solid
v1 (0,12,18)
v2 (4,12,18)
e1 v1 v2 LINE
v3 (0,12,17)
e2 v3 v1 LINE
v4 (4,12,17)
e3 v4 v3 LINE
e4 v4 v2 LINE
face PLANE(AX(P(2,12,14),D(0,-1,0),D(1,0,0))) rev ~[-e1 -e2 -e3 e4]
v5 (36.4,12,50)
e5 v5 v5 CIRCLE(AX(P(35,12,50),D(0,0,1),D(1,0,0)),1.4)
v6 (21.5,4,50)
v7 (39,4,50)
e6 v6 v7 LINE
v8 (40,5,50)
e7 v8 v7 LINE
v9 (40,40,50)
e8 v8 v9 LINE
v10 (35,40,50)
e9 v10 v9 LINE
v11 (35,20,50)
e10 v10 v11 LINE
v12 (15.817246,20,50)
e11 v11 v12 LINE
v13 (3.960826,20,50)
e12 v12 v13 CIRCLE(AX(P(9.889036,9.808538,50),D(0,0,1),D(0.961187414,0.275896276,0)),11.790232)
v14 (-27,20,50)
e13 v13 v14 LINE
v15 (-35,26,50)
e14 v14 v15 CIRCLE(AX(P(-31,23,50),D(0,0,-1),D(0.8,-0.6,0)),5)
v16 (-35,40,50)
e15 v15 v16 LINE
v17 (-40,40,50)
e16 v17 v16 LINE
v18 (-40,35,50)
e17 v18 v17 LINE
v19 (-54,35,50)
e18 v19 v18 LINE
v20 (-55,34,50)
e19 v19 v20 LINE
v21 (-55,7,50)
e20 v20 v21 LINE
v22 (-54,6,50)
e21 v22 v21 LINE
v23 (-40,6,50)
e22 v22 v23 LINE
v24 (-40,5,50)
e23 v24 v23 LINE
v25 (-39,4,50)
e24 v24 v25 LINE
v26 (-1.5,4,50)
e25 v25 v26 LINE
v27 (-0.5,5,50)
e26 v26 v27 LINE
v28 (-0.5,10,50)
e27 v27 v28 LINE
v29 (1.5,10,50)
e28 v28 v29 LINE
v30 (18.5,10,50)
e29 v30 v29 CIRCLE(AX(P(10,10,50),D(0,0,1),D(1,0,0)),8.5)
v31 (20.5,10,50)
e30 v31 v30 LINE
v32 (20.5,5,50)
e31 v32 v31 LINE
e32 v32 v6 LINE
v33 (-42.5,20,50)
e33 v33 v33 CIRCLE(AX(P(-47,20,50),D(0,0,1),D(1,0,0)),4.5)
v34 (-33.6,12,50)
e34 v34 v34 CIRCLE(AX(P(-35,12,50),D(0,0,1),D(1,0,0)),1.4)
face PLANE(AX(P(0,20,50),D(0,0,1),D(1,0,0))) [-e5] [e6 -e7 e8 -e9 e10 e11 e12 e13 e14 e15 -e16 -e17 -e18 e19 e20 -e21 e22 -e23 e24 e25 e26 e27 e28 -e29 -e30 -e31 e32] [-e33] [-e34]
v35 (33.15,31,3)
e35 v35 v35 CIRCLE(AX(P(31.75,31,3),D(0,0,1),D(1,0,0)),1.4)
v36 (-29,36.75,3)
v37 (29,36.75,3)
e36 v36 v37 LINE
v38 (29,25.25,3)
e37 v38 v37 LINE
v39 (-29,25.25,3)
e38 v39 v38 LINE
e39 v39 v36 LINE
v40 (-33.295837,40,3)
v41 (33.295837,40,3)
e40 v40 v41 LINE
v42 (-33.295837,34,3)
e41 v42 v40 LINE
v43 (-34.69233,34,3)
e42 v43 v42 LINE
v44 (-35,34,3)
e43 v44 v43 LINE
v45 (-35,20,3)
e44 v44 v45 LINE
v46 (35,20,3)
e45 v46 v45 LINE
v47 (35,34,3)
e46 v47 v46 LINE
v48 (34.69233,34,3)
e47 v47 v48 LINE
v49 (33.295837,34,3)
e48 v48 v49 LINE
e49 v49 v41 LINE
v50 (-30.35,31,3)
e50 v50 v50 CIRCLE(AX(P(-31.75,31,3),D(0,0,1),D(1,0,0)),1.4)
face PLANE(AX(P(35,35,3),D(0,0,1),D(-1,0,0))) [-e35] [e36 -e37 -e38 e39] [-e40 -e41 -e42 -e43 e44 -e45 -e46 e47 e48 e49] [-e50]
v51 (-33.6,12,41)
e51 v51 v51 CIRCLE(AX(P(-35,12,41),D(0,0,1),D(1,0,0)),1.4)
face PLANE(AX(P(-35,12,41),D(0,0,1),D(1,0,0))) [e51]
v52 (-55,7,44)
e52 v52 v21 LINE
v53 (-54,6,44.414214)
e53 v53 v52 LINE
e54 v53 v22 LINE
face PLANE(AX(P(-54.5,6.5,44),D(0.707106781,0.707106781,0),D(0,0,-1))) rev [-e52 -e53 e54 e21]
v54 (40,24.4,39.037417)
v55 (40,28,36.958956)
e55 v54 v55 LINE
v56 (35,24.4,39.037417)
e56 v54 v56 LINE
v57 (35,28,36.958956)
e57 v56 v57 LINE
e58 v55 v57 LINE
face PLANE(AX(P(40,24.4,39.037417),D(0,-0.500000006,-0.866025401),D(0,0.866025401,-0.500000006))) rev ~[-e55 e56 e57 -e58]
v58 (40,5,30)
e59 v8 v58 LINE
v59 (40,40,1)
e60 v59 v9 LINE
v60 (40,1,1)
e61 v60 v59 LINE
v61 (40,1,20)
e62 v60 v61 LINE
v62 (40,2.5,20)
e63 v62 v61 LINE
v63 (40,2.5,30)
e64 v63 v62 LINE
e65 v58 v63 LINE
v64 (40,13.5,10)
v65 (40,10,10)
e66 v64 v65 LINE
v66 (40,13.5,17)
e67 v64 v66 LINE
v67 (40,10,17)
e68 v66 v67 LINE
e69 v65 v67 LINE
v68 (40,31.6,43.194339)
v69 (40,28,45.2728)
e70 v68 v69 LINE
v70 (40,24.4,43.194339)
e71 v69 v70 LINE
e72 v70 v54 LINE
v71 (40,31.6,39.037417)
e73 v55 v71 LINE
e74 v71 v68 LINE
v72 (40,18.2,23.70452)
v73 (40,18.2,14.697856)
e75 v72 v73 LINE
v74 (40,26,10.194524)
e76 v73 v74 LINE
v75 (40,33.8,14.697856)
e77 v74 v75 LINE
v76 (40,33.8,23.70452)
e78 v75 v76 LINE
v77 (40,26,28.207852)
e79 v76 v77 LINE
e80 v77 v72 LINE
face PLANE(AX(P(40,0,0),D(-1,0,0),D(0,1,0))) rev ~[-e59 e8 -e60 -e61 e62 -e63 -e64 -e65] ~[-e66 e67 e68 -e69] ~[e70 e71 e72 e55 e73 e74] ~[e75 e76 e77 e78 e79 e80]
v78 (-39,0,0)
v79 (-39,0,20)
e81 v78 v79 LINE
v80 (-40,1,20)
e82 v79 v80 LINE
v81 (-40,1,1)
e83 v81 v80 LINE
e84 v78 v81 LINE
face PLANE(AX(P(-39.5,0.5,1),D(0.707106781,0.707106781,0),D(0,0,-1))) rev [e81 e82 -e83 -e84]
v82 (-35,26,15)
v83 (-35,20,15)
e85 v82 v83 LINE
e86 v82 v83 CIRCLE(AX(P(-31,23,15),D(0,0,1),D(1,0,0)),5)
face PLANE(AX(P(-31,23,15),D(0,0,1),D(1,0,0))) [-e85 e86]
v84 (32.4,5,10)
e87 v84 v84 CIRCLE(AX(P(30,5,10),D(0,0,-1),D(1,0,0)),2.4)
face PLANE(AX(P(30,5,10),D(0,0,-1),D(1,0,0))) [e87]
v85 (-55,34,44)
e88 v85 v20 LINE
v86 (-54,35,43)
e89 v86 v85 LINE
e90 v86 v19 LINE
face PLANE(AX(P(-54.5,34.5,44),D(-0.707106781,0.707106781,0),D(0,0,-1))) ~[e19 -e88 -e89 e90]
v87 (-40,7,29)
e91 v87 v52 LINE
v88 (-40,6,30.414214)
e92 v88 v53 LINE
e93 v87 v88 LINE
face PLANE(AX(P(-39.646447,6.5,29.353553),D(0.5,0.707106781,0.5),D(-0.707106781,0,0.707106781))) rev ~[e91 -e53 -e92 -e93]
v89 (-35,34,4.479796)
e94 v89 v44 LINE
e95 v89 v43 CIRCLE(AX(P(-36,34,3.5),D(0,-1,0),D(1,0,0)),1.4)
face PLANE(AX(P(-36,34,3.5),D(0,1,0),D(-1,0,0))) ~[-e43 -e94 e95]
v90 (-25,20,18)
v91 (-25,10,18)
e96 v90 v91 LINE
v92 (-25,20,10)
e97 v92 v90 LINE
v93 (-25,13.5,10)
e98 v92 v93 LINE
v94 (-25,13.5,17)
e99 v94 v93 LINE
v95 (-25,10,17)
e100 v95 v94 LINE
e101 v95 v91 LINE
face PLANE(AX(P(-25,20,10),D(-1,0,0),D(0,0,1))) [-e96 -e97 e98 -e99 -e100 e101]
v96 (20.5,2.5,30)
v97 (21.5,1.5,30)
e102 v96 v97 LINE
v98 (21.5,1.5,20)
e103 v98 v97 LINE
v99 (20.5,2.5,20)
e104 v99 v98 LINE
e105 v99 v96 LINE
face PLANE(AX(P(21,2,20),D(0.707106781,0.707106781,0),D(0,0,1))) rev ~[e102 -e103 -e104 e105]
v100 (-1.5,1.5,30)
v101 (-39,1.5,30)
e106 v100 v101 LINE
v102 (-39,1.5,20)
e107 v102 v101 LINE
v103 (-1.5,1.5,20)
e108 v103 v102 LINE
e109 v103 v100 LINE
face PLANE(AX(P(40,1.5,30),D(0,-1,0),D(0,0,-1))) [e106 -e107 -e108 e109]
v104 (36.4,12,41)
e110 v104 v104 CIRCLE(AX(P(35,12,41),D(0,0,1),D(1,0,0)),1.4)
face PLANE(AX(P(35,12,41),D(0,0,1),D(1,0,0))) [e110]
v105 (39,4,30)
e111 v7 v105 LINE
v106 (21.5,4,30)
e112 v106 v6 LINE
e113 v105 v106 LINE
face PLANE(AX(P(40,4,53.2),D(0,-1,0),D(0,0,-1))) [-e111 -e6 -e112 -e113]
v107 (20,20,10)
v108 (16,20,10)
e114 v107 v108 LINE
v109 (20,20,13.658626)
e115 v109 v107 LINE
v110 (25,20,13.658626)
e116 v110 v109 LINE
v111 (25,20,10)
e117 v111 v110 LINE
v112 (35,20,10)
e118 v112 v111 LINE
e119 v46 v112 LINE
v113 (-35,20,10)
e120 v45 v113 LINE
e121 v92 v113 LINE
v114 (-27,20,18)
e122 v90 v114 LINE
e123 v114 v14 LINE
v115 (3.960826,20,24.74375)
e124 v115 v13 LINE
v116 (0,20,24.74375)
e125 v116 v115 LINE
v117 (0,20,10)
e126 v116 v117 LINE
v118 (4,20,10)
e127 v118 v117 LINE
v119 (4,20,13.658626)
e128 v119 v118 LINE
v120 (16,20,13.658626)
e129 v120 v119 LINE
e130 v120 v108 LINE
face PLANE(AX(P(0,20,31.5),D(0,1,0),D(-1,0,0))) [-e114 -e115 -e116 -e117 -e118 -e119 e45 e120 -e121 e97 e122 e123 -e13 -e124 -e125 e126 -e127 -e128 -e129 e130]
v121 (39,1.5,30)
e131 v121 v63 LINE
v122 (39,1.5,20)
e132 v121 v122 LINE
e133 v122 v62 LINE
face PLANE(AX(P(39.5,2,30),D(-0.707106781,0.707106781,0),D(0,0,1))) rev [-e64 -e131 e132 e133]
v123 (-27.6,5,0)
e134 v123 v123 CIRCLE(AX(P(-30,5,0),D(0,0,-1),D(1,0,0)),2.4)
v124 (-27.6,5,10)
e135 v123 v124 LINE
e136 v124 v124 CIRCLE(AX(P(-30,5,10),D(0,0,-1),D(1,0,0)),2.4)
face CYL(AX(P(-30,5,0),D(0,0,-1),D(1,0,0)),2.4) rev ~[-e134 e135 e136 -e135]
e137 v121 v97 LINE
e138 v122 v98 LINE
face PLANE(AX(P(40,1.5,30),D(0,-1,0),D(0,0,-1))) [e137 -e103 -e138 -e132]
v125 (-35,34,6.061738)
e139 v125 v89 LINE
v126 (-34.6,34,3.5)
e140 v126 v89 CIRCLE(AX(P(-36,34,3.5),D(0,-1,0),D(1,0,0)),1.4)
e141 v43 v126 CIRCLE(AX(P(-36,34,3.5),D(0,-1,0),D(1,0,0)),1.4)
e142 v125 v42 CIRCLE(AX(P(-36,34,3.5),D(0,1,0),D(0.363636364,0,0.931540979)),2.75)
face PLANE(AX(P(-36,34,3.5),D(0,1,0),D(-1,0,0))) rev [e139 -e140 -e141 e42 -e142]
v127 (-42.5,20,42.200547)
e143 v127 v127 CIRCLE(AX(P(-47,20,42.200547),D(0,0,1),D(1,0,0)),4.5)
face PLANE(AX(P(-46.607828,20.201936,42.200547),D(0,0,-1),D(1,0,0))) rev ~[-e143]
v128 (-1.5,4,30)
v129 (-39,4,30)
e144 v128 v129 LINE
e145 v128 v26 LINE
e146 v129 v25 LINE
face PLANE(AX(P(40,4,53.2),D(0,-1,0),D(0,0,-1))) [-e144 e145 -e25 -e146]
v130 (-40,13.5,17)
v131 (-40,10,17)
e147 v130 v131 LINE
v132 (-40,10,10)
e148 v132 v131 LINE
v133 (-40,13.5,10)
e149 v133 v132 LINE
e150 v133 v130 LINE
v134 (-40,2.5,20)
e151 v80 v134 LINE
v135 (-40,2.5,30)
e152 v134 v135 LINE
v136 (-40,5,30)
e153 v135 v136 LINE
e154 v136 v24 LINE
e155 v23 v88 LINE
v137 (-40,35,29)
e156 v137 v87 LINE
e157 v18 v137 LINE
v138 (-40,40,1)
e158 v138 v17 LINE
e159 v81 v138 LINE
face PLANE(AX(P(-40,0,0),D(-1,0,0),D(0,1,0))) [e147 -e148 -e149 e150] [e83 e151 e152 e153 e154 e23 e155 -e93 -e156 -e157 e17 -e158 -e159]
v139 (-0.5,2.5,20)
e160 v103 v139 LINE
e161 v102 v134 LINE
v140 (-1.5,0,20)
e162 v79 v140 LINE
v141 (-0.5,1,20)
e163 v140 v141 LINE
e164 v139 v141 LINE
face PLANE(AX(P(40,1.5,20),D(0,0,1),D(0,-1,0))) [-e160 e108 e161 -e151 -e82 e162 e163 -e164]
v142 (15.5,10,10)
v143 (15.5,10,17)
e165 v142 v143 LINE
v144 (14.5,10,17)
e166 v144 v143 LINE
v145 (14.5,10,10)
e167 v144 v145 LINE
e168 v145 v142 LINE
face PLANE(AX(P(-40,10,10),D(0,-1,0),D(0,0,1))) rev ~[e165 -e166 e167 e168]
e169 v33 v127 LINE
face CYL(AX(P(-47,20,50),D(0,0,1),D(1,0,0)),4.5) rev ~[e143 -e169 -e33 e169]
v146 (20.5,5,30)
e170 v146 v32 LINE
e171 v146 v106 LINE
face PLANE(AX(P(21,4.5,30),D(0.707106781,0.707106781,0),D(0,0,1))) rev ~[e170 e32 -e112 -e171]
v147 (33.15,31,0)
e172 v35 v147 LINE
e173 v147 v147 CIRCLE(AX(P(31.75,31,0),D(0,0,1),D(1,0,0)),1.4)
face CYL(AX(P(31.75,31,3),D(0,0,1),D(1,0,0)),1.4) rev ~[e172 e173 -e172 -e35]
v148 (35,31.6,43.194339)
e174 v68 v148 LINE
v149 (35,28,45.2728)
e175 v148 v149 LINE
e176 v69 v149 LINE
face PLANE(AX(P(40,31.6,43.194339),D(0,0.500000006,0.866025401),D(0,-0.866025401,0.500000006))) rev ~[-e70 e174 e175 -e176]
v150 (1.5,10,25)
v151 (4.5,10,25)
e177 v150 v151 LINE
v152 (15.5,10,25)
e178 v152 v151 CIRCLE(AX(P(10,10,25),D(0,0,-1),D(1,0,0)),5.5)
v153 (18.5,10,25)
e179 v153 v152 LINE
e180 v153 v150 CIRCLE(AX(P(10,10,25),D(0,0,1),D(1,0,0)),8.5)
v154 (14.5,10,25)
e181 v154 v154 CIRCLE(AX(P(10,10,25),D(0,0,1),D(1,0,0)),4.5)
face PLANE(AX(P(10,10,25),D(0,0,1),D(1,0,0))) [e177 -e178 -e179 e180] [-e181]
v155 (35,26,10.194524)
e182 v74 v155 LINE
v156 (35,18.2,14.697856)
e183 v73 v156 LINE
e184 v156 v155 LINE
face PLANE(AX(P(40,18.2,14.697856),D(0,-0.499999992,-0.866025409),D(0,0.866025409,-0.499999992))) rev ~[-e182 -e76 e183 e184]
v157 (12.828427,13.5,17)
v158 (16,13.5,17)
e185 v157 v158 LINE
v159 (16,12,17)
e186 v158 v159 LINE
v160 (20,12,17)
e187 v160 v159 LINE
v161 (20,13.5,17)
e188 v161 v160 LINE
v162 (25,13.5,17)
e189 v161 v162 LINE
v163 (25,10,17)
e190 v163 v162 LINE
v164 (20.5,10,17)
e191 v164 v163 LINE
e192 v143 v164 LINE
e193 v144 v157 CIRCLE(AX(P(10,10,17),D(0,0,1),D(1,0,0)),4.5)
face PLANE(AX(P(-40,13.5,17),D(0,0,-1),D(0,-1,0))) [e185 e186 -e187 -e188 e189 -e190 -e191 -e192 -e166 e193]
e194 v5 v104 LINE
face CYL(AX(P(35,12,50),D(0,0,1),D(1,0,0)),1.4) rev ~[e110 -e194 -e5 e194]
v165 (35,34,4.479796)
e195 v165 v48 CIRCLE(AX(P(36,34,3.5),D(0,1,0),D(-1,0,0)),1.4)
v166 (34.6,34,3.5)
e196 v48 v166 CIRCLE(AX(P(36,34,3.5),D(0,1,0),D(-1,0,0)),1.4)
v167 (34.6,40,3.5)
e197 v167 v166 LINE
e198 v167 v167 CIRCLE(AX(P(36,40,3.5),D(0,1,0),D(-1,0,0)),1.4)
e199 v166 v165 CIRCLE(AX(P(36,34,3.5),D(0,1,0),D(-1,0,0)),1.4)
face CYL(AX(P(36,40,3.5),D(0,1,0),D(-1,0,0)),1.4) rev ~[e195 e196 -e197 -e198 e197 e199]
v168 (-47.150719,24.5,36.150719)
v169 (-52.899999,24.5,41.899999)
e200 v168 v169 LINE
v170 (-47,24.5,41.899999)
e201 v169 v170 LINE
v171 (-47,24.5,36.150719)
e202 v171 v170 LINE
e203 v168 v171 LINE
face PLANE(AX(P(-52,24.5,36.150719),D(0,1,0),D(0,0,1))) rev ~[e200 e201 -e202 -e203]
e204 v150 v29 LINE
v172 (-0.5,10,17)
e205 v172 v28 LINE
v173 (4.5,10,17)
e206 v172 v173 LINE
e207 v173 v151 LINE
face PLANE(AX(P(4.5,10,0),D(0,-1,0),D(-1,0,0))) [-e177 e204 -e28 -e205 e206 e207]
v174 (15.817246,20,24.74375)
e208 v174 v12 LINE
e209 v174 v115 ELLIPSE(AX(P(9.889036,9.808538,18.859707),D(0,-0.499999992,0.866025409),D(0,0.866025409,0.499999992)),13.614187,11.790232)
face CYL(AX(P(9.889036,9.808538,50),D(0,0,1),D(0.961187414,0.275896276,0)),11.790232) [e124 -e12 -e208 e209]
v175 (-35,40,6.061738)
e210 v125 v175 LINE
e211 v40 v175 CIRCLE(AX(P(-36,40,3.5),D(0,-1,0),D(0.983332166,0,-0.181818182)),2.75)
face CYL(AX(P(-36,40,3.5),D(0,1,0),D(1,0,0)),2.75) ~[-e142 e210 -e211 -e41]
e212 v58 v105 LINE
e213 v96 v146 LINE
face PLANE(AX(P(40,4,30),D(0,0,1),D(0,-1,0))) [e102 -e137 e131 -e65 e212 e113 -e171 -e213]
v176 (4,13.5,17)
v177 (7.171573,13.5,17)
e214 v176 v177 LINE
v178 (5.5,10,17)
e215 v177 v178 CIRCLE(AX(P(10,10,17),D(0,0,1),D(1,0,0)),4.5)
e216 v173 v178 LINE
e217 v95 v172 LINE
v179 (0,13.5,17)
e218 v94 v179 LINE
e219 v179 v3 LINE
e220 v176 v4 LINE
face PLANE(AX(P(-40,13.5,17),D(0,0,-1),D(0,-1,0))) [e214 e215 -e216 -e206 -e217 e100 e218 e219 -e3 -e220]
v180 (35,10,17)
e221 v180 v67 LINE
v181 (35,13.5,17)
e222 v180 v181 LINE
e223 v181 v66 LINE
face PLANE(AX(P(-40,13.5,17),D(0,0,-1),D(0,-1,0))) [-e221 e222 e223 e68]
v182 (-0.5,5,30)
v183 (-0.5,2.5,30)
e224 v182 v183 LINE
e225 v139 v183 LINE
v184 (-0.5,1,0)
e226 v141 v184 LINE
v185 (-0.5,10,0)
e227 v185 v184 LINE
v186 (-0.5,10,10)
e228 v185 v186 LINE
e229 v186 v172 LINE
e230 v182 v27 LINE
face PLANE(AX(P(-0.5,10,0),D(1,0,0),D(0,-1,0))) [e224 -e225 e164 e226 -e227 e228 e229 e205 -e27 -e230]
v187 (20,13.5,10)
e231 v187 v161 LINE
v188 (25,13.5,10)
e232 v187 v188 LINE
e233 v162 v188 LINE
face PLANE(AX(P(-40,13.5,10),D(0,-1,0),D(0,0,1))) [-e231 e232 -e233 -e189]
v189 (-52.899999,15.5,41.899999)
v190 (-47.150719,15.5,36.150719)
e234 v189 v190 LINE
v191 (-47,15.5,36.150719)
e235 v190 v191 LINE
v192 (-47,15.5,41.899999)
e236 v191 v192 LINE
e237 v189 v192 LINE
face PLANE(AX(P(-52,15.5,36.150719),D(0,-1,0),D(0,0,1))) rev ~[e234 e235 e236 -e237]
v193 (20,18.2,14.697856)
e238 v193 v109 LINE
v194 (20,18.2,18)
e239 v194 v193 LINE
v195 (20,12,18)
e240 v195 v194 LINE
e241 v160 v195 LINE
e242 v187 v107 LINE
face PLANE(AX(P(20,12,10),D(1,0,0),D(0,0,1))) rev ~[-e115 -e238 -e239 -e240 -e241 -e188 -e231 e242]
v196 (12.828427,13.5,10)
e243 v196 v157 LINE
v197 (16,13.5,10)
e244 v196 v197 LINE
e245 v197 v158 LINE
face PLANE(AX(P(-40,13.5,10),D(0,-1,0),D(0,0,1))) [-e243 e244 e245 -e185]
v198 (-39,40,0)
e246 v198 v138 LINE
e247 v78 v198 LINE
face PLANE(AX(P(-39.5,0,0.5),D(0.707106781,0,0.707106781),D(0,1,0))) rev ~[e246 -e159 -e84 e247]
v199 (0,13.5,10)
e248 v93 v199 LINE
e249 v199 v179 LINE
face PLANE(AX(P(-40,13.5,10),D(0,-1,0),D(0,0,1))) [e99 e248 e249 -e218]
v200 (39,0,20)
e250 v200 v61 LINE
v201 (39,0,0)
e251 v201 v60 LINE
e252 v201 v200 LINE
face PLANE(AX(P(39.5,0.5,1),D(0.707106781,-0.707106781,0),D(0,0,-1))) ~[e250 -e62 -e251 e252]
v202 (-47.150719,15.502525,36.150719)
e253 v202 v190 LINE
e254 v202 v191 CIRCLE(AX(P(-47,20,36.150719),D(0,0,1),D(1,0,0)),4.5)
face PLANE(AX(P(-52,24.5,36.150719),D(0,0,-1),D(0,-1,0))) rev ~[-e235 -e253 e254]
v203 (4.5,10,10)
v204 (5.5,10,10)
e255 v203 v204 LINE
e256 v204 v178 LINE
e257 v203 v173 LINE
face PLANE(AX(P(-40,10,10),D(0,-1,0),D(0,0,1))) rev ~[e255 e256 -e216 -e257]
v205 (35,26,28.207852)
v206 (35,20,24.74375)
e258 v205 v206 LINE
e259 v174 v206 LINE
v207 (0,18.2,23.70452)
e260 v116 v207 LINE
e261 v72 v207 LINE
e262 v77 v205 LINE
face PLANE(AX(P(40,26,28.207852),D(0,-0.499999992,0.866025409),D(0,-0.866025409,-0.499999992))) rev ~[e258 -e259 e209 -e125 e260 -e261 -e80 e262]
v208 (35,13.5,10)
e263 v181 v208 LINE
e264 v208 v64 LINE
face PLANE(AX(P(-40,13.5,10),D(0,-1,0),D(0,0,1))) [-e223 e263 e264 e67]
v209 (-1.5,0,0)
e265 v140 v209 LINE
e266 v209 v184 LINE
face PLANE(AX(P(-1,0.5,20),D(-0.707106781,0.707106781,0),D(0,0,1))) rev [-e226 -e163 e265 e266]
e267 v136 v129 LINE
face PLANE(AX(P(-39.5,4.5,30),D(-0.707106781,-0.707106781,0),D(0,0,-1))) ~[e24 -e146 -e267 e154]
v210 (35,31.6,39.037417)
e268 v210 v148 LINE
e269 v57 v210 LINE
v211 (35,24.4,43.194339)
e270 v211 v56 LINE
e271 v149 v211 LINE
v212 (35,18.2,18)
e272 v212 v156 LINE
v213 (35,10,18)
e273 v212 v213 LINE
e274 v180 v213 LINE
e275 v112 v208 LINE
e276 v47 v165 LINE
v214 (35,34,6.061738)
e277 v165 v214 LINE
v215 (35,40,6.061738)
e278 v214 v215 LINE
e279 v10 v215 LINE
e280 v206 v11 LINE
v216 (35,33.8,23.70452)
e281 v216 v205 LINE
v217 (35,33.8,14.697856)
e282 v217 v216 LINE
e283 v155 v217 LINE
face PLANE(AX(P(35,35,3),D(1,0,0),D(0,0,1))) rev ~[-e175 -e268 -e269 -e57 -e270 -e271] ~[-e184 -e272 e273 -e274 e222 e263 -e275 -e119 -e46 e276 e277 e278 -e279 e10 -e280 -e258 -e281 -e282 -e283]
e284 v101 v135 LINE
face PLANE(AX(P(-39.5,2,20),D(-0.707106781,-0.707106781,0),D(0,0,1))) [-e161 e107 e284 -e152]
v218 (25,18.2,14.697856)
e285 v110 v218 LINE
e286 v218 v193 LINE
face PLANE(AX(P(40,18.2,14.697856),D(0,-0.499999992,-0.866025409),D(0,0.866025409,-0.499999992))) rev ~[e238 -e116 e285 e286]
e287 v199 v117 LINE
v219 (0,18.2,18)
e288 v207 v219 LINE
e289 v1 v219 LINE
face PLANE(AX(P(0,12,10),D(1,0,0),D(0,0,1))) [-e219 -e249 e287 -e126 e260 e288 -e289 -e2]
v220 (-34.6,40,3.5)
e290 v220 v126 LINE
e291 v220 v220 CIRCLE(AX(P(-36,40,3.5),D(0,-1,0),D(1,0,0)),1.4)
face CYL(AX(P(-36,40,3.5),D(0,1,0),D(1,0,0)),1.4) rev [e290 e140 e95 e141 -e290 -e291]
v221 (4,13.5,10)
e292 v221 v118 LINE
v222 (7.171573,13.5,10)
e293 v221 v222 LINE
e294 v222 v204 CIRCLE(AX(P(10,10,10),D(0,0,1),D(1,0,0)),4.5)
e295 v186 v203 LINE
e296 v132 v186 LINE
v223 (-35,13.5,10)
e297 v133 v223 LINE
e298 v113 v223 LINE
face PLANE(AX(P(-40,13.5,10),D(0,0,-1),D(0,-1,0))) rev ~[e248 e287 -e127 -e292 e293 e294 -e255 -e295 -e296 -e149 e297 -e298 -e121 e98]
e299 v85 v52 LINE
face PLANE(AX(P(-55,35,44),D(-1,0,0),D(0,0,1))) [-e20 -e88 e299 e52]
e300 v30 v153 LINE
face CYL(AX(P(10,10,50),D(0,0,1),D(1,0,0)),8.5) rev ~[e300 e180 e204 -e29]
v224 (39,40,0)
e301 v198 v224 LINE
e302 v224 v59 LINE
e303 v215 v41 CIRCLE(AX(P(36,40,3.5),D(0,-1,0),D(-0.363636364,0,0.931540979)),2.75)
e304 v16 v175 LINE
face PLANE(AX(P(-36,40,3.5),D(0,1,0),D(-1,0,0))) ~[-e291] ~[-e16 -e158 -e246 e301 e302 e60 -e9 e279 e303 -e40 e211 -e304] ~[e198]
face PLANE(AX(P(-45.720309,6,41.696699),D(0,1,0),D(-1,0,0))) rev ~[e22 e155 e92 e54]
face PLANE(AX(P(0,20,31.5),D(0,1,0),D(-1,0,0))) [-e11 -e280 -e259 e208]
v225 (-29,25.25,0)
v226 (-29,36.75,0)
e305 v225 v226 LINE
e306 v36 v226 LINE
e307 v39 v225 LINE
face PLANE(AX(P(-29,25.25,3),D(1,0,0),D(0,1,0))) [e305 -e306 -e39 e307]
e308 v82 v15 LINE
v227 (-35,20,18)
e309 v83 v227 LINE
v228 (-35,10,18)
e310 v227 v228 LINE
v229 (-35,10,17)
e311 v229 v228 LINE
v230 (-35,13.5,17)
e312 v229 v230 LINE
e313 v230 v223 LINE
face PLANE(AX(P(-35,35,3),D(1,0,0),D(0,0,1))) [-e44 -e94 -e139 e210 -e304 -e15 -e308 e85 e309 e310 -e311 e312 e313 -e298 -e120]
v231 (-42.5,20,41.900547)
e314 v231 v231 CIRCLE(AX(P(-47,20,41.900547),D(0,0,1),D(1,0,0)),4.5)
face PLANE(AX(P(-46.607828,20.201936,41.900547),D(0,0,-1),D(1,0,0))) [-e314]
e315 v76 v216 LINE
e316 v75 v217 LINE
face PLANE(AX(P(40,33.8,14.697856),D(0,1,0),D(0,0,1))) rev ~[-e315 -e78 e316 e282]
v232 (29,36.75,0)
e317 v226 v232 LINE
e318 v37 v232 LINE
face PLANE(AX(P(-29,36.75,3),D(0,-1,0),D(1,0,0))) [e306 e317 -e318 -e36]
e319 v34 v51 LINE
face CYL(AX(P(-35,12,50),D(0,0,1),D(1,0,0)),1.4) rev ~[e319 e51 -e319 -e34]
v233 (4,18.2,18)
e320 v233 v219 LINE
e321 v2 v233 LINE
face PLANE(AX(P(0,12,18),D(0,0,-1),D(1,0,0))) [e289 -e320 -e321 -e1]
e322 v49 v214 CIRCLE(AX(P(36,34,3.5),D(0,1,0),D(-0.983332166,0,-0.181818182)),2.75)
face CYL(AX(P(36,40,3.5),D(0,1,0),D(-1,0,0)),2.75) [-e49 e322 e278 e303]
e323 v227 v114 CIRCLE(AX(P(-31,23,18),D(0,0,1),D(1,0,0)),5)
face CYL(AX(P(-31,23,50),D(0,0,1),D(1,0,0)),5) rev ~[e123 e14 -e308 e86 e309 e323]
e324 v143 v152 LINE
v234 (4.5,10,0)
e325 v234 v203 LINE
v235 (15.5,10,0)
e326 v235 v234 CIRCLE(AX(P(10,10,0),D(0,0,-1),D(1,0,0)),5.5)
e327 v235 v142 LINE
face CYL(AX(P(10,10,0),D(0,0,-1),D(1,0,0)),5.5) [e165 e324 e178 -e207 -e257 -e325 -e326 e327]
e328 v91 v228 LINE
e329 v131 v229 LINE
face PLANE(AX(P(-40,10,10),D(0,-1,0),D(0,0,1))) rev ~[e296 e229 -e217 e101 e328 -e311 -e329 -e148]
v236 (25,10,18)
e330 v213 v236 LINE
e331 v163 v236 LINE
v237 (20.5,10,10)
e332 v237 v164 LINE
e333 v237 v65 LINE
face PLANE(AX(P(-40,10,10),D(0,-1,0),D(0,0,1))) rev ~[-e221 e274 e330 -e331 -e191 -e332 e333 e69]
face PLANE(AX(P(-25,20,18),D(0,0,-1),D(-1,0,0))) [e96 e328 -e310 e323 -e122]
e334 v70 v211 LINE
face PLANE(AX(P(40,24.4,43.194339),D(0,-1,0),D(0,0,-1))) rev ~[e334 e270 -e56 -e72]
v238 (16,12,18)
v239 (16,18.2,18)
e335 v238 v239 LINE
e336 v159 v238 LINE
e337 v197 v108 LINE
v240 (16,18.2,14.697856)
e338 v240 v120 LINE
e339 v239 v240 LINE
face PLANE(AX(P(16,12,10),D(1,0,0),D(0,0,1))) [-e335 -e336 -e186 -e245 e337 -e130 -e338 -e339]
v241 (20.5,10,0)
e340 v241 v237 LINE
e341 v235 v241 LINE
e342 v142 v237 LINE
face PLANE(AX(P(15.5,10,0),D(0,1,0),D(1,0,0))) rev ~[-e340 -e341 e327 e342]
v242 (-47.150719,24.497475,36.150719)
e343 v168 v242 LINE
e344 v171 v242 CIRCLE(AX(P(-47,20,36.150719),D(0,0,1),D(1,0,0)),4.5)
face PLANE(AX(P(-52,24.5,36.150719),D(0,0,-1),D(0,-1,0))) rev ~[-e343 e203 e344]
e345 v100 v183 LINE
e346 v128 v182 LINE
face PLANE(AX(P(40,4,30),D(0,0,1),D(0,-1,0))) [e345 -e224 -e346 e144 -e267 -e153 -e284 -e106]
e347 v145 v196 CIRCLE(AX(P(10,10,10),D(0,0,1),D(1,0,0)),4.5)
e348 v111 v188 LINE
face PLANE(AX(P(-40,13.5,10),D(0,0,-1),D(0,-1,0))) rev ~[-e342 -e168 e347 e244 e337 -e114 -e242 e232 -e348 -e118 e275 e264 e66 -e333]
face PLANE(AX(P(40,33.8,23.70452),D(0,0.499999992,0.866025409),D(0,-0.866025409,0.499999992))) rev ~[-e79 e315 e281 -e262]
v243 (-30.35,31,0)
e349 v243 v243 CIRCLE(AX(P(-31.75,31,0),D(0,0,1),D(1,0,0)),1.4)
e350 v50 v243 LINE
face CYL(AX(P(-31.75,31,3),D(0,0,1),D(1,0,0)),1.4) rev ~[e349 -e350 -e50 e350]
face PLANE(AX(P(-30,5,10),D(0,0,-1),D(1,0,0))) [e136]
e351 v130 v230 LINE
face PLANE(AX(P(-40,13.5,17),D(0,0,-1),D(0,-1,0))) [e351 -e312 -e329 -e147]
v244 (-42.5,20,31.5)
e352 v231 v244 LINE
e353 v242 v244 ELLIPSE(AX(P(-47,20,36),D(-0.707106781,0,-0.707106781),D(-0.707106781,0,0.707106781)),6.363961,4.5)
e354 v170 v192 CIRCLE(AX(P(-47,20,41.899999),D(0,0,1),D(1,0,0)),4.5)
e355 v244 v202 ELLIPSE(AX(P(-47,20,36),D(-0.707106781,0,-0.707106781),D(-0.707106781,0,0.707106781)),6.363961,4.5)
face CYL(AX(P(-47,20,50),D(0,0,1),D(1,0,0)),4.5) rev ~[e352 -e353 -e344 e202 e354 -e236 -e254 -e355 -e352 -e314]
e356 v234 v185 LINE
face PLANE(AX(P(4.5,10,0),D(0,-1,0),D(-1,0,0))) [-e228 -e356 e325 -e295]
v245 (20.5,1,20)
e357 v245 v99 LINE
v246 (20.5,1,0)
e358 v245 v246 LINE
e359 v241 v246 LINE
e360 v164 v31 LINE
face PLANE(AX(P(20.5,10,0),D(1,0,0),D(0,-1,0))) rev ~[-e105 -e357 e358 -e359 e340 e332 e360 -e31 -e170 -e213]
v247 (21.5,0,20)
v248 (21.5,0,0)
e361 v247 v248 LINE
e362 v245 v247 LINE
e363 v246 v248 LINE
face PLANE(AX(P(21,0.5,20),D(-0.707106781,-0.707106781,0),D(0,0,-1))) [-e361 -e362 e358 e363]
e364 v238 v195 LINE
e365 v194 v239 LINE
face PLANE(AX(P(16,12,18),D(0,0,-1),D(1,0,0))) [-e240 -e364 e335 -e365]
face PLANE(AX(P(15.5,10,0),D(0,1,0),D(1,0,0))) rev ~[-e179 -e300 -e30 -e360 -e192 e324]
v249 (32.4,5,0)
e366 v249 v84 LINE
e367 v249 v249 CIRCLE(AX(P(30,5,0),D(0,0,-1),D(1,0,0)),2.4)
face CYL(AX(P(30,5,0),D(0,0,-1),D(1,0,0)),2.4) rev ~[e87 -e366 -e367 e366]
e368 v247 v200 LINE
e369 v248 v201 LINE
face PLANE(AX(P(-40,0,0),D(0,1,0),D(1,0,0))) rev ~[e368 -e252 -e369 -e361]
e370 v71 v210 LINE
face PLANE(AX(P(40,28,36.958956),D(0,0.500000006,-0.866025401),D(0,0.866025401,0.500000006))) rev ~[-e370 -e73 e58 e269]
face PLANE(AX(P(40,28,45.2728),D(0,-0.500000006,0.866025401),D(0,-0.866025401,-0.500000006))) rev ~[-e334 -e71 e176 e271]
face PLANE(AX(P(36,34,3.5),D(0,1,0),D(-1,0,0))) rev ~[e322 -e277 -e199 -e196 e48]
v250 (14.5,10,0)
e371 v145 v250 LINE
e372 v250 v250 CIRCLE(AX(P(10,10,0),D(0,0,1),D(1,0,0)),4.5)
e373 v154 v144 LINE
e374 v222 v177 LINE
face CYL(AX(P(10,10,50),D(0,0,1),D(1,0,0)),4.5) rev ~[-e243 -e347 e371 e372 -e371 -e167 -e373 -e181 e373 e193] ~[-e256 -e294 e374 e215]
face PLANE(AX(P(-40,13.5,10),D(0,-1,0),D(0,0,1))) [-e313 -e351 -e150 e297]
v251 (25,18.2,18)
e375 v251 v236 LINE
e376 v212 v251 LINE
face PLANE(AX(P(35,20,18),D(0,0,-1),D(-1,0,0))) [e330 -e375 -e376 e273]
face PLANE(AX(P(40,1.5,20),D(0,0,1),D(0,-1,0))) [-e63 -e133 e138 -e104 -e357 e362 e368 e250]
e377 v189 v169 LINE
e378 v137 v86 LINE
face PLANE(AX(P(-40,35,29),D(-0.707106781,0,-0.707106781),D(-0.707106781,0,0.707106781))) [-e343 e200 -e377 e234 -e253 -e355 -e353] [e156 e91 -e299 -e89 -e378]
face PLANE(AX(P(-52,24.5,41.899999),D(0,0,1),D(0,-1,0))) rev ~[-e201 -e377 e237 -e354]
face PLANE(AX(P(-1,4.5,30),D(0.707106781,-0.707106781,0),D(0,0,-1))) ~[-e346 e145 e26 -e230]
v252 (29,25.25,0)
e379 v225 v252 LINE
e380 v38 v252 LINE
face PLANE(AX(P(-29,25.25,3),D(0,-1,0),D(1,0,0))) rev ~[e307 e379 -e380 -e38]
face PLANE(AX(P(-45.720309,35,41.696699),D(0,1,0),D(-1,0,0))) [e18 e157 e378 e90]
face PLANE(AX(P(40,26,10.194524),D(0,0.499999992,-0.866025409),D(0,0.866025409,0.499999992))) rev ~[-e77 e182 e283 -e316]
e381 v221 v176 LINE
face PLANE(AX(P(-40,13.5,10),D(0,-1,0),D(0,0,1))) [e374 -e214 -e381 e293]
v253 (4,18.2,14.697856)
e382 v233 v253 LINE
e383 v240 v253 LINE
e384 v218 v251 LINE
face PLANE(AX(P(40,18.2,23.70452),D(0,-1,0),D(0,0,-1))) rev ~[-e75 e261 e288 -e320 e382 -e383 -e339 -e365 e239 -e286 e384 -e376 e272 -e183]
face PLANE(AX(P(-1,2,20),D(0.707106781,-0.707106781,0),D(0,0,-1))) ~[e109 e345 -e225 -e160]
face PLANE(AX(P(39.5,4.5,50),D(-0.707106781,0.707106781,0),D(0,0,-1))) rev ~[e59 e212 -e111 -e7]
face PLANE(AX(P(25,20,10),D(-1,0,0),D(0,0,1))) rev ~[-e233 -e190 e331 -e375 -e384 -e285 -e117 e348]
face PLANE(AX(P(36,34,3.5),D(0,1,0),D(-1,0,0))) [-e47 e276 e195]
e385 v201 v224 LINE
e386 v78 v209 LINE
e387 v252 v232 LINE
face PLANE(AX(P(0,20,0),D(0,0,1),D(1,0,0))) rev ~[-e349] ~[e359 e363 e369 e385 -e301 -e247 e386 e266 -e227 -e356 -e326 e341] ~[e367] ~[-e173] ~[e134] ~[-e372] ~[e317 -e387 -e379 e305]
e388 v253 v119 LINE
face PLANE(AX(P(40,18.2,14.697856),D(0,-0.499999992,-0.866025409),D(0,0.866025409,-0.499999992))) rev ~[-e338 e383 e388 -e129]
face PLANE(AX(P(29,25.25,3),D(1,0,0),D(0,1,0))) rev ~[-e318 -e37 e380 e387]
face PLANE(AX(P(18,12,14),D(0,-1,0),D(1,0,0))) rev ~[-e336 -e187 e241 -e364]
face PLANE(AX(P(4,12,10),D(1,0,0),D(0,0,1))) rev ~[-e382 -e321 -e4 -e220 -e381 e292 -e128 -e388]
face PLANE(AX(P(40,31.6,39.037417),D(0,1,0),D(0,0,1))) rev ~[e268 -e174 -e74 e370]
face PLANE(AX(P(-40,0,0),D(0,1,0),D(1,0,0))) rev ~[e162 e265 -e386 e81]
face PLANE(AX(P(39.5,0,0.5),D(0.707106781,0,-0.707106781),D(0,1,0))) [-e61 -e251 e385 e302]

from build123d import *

# Parameters (mm, degrees)
SKETCH_W             = 80
SKETCH_H             = 40
PAD_DEPTH            = 50
SKETCH002_R          = 4.5
POCKET_DEPTH         = 50.001
SKETCH015_R          = 8.5
POCKET001_DEPTH      = 25
SKETCH004_W          = 70
SKETCH004_H          = 57
POCKET002_DEPTH      = 15
POCKET002_DEPTH_BACK = 100
SKETCH005_R          = 1.4
SKETCH005_W          = 58
SKETCH005_H          = 11.5
POCKET003_DEPTH      = 5
SKETCH006_W          = 3.5
SKETCH006_H          = 7
POCKET004_DEPTH      = 80.001
SKETCH007_W          = 10
SKETCH007_H          = 8
POCKET005_DEPTH      = 10
PAD002_DEPTH         = 29
SKETCH009_R          = 4.5
POCKET006_DEPTH      = 50.001
SKETCH013_W          = 9
SKETCH013_H          = 5.749281
POCKET007_DEPTH      = 5
POCKET007_DEPTH_BACK = 100
SKETCH014_W          = 11.905407
SKETCH014_H          = 10.178417
PAD003_DEPTH         = 0.3
POCKET029_DEPTH      = 95.001
SKETCH018_R          = 1.4
POCKET030_DEPTH      = 9
SKETCH019_R          = 2.4
POCKET031_DEPTH      = 10
POCKET032_DEPTH      = 50.001
SKETCH021_W          = 4
SKETCH021_H          = 8
POCKET033_DEPTH      = 28.001
SKETCH025_R          = 2.75
PAD014_DEPTH         = 6
SKETCH049_R          = 1.4
POCKET039_DEPTH      = 6
SKETCH044_R          = 5
POCKET040_DEPTH      = 35
PAD015_DEPTH         = 31
POCKET041_DEPTH      = 40
CHAMFER015_SIZE      = 1
CHAMFER016_SIZE      = 1
CHAMFER017_SIZE      = 1
CHAMFER018_SIZE      = 1


with BuildPart() as part:
    # Sketch → Pad (new body)
    with BuildSketch(Plane.XY):
        with Locations((0, 20)):
            Rectangle(SKETCH_W, SKETCH_H)
    extrude(amount=PAD_DEPTH)

    # Sketch002 → Pocket (cut, through all)
    with BuildSketch(Plane.XY.offset(50)):
        with Locations((10, 10)):
            Circle(SKETCH002_R)
    extrude(amount=-POCKET_DEPTH, mode=Mode.SUBTRACT)

    # Sketch015 (on Face5 of Pocket) → Pocket001 (cut)
    with BuildSketch(Plane.XY.offset(50)):
        with Locations((10, 10)):
            Circle(SKETCH015_R)
    extrude(amount=-POCKET001_DEPTH, mode=Mode.SUBTRACT)

    # Sketch004 → Pocket002 (cut, two sides)
    with BuildSketch(Plane(origin=(0, 35, 0), x_dir=(-1, 0, 0), z_dir=(0, 1, 0))) as pocket002_sk:
        with Locations((0, 31.5)):
            Rectangle(SKETCH004_W, SKETCH004_H)
    extrude(amount=-POCKET002_DEPTH, mode=Mode.SUBTRACT)
    extrude(pocket002_sk.sketch, amount=POCKET002_DEPTH_BACK, mode=Mode.SUBTRACT)

    # Sketch005 → Pocket003 (cut)
    with BuildSketch(Plane.XY.offset(3)):
        with Locations((-31.75, 31)):
            Circle(SKETCH005_R)
        with Locations((31.75, 31)):
            Circle(SKETCH005_R)
        with Locations((0, 31)):
            Rectangle(SKETCH005_W, SKETCH005_H)
    extrude(amount=-POCKET003_DEPTH, mode=Mode.SUBTRACT)

    # Sketch006 → Pocket004 (cut, through all)
    with BuildSketch(Plane(origin=(-40, 0, 0), x_dir=(0, -1, 0), z_dir=(-1, 0, 0))):
        with Locations((-11.75, 13.5)):
            Rectangle(SKETCH006_W, SKETCH006_H)
    extrude(amount=-POCKET004_DEPTH, mode=Mode.SUBTRACT)

    # Sketch007 → Pocket005 (cut)
    with BuildSketch(Plane(origin=(0, 20, 0), x_dir=(-1, 0, 0), z_dir=(0, 1, 0))):
        with Locations((-30, 14)):
            Rectangle(SKETCH007_W, SKETCH007_H)
        with Locations((30, 14)):
            Rectangle(SKETCH007_W, SKETCH007_H)
    extrude(amount=-POCKET005_DEPTH, mode=Mode.SUBTRACT)

    # Sketch008 → Pad002 (join)
    with BuildSketch(Plane(origin=(0, 35, 0), x_dir=(-1, 0, 0), z_dir=(0, 1, 0))):
        Polygon((40, 29), (55, 44), (55, 50), (40, 50), align=None)
    extrude(amount=-PAD002_DEPTH)

    # Sketch009 → Pocket006 (cut, through all)
    with BuildSketch(Plane.XY.offset(50)):
        with Locations((-47, 20)):
            Circle(SKETCH009_R)
    extrude(amount=-POCKET006_DEPTH, mode=Mode.SUBTRACT)

    # Sketch013 → Pocket007 (cut, two sides)
    with BuildSketch(Plane(origin=(-52, 0, 0), x_dir=(0, -1, 0), z_dir=(-1, 0, 0))) as pocket007_sk:
        with Locations((-20, 39.025359)):
            Rectangle(SKETCH013_W, SKETCH013_H)
    extrude(amount=-POCKET007_DEPTH, mode=Mode.SUBTRACT)
    extrude(pocket007_sk.sketch, amount=POCKET007_DEPTH_BACK, mode=Mode.SUBTRACT)

    # Sketch014 → Pad003 (join)
    with BuildSketch(Plane(origin=(0, 0, 41.900547), x_dir=(1, 0, 0), z_dir=(0, 0, -1))):
        with Locations((-46.607828, -20.201936)):
            Rectangle(SKETCH014_W, SKETCH014_H)
    extrude(amount=-PAD003_DEPTH)

    # Sketch017 → Pocket029 (cut, through all)
    with BuildSketch(Plane.YZ.offset(40)):
        Polygon((4, 53.2), (4, 30), (1.5, 30), (1.5, 20), (-2.11, 20), (-2.11, 61.28), align=None)
    extrude(amount=-POCKET029_DEPTH, mode=Mode.SUBTRACT)

    # Sketch018 → Pocket030 (cut)
    with BuildSketch(Plane.XY.offset(50)):
        with Locations((-35, 12)):
            Circle(SKETCH018_R)
        with Locations((35, 12)):
            Circle(SKETCH018_R)
    extrude(amount=-POCKET030_DEPTH, mode=Mode.SUBTRACT)

    # Sketch019 → Pocket031 (cut)
    with BuildSketch(Plane(origin=(0, 0, 0), x_dir=(1, 0, 0), z_dir=(0, 0, -1))):
        with Locations((-30, -5)):
            Circle(SKETCH019_R)
        with Locations((30, -5)):
            Circle(SKETCH019_R)
    extrude(amount=-POCKET031_DEPTH, mode=Mode.SUBTRACT)

    # Sketch020 → Pocket032 (cut, through all)
    with BuildSketch(Plane(origin=(0, 0, 0), x_dir=(1, 0, 0), z_dir=(0, 0, -1))):
        with BuildLine():
            ThreePointArc((15.5, -10), (10, -4.5), (4.5, -10))
            Line((4.5, -10), (-0.5, -10))
            Line((-0.5, -10), (-0.5, 2.44))
            Line((-0.5, 2.44), (20.5, 2.44))
            Line((20.5, -10), (20.5, 2.44))
            Line((15.5, -10), (20.5, -10))
        make_face()
    extrude(amount=-POCKET032_DEPTH, mode=Mode.SUBTRACT)

    # Sketch021 → Pocket033 (cut, through all)
    with BuildSketch(Plane.XZ.offset(-12)):
        with Locations((18, 14)):
            Rectangle(SKETCH021_W, SKETCH021_H)
        with Locations((2, 14)):
            Rectangle(SKETCH021_W, SKETCH021_H)
    extrude(amount=-POCKET033_DEPTH, mode=Mode.SUBTRACT)

    # Sketch025 (on Face1 of Pocket033) → Pad014 (join)
    with BuildSketch(Plane(origin=(0, 40, 0), x_dir=(-1, 0, 0), z_dir=(0, 1, 0))):
        with Locations((-36, 3.5)):
            Circle(SKETCH025_R)
    pad014 = extrude(amount=-PAD014_DEPTH)

    # Mirrored002: Pad014 across Sketch025 V_Axis
    add(pad014.mirror(Plane(origin=(0, 40, 0), x_dir=(0, 1, 0), z_dir=(-1, 0, 0))))

    # Sketch049 (on Face1 of Mirrored002) → Pocket039 (cut)
    with BuildSketch(Plane(origin=(0, 40, 0), x_dir=(-1, 0, 0), z_dir=(0, 1, 0))):
        with Locations((-36, 3.5)):
            Circle(SKETCH049_R)
    pocket039 = extrude(amount=-POCKET039_DEPTH, mode=Mode.SUBTRACT)

    # Mirrored003: Pocket039 across Sketch049 V_Axis
    add(pocket039.mirror(Plane(origin=(0, 40, 0), x_dir=(0, 1, 0), z_dir=(-1, 0, 0))), mode=Mode.SUBTRACT)

    # Sketch044 → Pocket040 (cut)
    with BuildSketch(Plane.XY.offset(50)):
        with Locations((-31, 23)):
            Circle(SKETCH044_R)
    extrude(amount=-POCKET040_DEPTH, mode=Mode.SUBTRACT)

    # Sketch026 → Pad015 (join)
    with BuildSketch(Plane.XY.offset(50)):
        with BuildLine():
            ThreePointArc((21.221659, 13.061419), (12.186737, 21.372713), (0.660759, 17.14669))
            Line((1.758582, 14.664218), (0.660759, 17.14669))
            ThreePointArc((19.018099, 12.326896), (11.159892, 19.192932), (1.758582, 14.664218))
            Line((19.018099, 12.326896), (21.221659, 13.061419))
        make_face()
    extrude(amount=-PAD015_DEPTH)

    # Sketch042 → Pocket041 (cut)
    with BuildSketch(Plane.YZ.offset(40)):
        Polygon((26, 10.194524), (33.8, 14.697856), (33.8, 23.70452), (26, 28.207852), (18.2, 23.70452), (18.2, 14.697856), align=None)
        Polygon((31.6, 39.037417), (31.6, 43.194339), (28, 45.2728), (24.4, 43.194339), (24.4, 39.037417), (28, 36.958956), align=None)
    extrude(amount=-POCKET041_DEPTH, mode=Mode.SUBTRACT)

    # Chamfer015
    chamfer015_edges = [part.edges().sort_by_distance(p)[0] for p in [
        (40, 20, 0),
        (-40, 20, 0),
    ]]
    chamfer(chamfer015_edges, length=CHAMFER015_SIZE)

    # Chamfer016
    chamfer016_edges = [part.edges().sort_by_distance(p)[0] for p in [
        (-55, 35, 47),
        (-55, 6, 47),
        (-47.5, 6, 36.5),
    ]]
    chamfer(chamfer016_edges, length=CHAMFER016_SIZE)

    # Chamfer017
    chamfer017_edges = [part.edges().sort_by_distance(p)[0] for p in [
        (-0.5, 4, 40),
        (20.5, 4, 40),
        (20.5, 1.5, 25),
        (-0.5, 1.5, 25),
        (-0.5, 0, 10),
        (20.5, 0, 10),
    ]]
    chamfer(chamfer017_edges, length=CHAMFER017_SIZE)

    # Chamfer018
    chamfer018_edges = [part.edges().sort_by_distance(p)[0] for p in [
        (40, 0, 10.5),
        (40, 1.5, 25),
        (40, 4, 40),
        (-40, 0, 10.5),
        (-40, 1.5, 25),
        (-40, 4, 40),
    ]]
    chamfer(chamfer018_edges, length=CHAMFER018_SIZE)


solid = part.part
